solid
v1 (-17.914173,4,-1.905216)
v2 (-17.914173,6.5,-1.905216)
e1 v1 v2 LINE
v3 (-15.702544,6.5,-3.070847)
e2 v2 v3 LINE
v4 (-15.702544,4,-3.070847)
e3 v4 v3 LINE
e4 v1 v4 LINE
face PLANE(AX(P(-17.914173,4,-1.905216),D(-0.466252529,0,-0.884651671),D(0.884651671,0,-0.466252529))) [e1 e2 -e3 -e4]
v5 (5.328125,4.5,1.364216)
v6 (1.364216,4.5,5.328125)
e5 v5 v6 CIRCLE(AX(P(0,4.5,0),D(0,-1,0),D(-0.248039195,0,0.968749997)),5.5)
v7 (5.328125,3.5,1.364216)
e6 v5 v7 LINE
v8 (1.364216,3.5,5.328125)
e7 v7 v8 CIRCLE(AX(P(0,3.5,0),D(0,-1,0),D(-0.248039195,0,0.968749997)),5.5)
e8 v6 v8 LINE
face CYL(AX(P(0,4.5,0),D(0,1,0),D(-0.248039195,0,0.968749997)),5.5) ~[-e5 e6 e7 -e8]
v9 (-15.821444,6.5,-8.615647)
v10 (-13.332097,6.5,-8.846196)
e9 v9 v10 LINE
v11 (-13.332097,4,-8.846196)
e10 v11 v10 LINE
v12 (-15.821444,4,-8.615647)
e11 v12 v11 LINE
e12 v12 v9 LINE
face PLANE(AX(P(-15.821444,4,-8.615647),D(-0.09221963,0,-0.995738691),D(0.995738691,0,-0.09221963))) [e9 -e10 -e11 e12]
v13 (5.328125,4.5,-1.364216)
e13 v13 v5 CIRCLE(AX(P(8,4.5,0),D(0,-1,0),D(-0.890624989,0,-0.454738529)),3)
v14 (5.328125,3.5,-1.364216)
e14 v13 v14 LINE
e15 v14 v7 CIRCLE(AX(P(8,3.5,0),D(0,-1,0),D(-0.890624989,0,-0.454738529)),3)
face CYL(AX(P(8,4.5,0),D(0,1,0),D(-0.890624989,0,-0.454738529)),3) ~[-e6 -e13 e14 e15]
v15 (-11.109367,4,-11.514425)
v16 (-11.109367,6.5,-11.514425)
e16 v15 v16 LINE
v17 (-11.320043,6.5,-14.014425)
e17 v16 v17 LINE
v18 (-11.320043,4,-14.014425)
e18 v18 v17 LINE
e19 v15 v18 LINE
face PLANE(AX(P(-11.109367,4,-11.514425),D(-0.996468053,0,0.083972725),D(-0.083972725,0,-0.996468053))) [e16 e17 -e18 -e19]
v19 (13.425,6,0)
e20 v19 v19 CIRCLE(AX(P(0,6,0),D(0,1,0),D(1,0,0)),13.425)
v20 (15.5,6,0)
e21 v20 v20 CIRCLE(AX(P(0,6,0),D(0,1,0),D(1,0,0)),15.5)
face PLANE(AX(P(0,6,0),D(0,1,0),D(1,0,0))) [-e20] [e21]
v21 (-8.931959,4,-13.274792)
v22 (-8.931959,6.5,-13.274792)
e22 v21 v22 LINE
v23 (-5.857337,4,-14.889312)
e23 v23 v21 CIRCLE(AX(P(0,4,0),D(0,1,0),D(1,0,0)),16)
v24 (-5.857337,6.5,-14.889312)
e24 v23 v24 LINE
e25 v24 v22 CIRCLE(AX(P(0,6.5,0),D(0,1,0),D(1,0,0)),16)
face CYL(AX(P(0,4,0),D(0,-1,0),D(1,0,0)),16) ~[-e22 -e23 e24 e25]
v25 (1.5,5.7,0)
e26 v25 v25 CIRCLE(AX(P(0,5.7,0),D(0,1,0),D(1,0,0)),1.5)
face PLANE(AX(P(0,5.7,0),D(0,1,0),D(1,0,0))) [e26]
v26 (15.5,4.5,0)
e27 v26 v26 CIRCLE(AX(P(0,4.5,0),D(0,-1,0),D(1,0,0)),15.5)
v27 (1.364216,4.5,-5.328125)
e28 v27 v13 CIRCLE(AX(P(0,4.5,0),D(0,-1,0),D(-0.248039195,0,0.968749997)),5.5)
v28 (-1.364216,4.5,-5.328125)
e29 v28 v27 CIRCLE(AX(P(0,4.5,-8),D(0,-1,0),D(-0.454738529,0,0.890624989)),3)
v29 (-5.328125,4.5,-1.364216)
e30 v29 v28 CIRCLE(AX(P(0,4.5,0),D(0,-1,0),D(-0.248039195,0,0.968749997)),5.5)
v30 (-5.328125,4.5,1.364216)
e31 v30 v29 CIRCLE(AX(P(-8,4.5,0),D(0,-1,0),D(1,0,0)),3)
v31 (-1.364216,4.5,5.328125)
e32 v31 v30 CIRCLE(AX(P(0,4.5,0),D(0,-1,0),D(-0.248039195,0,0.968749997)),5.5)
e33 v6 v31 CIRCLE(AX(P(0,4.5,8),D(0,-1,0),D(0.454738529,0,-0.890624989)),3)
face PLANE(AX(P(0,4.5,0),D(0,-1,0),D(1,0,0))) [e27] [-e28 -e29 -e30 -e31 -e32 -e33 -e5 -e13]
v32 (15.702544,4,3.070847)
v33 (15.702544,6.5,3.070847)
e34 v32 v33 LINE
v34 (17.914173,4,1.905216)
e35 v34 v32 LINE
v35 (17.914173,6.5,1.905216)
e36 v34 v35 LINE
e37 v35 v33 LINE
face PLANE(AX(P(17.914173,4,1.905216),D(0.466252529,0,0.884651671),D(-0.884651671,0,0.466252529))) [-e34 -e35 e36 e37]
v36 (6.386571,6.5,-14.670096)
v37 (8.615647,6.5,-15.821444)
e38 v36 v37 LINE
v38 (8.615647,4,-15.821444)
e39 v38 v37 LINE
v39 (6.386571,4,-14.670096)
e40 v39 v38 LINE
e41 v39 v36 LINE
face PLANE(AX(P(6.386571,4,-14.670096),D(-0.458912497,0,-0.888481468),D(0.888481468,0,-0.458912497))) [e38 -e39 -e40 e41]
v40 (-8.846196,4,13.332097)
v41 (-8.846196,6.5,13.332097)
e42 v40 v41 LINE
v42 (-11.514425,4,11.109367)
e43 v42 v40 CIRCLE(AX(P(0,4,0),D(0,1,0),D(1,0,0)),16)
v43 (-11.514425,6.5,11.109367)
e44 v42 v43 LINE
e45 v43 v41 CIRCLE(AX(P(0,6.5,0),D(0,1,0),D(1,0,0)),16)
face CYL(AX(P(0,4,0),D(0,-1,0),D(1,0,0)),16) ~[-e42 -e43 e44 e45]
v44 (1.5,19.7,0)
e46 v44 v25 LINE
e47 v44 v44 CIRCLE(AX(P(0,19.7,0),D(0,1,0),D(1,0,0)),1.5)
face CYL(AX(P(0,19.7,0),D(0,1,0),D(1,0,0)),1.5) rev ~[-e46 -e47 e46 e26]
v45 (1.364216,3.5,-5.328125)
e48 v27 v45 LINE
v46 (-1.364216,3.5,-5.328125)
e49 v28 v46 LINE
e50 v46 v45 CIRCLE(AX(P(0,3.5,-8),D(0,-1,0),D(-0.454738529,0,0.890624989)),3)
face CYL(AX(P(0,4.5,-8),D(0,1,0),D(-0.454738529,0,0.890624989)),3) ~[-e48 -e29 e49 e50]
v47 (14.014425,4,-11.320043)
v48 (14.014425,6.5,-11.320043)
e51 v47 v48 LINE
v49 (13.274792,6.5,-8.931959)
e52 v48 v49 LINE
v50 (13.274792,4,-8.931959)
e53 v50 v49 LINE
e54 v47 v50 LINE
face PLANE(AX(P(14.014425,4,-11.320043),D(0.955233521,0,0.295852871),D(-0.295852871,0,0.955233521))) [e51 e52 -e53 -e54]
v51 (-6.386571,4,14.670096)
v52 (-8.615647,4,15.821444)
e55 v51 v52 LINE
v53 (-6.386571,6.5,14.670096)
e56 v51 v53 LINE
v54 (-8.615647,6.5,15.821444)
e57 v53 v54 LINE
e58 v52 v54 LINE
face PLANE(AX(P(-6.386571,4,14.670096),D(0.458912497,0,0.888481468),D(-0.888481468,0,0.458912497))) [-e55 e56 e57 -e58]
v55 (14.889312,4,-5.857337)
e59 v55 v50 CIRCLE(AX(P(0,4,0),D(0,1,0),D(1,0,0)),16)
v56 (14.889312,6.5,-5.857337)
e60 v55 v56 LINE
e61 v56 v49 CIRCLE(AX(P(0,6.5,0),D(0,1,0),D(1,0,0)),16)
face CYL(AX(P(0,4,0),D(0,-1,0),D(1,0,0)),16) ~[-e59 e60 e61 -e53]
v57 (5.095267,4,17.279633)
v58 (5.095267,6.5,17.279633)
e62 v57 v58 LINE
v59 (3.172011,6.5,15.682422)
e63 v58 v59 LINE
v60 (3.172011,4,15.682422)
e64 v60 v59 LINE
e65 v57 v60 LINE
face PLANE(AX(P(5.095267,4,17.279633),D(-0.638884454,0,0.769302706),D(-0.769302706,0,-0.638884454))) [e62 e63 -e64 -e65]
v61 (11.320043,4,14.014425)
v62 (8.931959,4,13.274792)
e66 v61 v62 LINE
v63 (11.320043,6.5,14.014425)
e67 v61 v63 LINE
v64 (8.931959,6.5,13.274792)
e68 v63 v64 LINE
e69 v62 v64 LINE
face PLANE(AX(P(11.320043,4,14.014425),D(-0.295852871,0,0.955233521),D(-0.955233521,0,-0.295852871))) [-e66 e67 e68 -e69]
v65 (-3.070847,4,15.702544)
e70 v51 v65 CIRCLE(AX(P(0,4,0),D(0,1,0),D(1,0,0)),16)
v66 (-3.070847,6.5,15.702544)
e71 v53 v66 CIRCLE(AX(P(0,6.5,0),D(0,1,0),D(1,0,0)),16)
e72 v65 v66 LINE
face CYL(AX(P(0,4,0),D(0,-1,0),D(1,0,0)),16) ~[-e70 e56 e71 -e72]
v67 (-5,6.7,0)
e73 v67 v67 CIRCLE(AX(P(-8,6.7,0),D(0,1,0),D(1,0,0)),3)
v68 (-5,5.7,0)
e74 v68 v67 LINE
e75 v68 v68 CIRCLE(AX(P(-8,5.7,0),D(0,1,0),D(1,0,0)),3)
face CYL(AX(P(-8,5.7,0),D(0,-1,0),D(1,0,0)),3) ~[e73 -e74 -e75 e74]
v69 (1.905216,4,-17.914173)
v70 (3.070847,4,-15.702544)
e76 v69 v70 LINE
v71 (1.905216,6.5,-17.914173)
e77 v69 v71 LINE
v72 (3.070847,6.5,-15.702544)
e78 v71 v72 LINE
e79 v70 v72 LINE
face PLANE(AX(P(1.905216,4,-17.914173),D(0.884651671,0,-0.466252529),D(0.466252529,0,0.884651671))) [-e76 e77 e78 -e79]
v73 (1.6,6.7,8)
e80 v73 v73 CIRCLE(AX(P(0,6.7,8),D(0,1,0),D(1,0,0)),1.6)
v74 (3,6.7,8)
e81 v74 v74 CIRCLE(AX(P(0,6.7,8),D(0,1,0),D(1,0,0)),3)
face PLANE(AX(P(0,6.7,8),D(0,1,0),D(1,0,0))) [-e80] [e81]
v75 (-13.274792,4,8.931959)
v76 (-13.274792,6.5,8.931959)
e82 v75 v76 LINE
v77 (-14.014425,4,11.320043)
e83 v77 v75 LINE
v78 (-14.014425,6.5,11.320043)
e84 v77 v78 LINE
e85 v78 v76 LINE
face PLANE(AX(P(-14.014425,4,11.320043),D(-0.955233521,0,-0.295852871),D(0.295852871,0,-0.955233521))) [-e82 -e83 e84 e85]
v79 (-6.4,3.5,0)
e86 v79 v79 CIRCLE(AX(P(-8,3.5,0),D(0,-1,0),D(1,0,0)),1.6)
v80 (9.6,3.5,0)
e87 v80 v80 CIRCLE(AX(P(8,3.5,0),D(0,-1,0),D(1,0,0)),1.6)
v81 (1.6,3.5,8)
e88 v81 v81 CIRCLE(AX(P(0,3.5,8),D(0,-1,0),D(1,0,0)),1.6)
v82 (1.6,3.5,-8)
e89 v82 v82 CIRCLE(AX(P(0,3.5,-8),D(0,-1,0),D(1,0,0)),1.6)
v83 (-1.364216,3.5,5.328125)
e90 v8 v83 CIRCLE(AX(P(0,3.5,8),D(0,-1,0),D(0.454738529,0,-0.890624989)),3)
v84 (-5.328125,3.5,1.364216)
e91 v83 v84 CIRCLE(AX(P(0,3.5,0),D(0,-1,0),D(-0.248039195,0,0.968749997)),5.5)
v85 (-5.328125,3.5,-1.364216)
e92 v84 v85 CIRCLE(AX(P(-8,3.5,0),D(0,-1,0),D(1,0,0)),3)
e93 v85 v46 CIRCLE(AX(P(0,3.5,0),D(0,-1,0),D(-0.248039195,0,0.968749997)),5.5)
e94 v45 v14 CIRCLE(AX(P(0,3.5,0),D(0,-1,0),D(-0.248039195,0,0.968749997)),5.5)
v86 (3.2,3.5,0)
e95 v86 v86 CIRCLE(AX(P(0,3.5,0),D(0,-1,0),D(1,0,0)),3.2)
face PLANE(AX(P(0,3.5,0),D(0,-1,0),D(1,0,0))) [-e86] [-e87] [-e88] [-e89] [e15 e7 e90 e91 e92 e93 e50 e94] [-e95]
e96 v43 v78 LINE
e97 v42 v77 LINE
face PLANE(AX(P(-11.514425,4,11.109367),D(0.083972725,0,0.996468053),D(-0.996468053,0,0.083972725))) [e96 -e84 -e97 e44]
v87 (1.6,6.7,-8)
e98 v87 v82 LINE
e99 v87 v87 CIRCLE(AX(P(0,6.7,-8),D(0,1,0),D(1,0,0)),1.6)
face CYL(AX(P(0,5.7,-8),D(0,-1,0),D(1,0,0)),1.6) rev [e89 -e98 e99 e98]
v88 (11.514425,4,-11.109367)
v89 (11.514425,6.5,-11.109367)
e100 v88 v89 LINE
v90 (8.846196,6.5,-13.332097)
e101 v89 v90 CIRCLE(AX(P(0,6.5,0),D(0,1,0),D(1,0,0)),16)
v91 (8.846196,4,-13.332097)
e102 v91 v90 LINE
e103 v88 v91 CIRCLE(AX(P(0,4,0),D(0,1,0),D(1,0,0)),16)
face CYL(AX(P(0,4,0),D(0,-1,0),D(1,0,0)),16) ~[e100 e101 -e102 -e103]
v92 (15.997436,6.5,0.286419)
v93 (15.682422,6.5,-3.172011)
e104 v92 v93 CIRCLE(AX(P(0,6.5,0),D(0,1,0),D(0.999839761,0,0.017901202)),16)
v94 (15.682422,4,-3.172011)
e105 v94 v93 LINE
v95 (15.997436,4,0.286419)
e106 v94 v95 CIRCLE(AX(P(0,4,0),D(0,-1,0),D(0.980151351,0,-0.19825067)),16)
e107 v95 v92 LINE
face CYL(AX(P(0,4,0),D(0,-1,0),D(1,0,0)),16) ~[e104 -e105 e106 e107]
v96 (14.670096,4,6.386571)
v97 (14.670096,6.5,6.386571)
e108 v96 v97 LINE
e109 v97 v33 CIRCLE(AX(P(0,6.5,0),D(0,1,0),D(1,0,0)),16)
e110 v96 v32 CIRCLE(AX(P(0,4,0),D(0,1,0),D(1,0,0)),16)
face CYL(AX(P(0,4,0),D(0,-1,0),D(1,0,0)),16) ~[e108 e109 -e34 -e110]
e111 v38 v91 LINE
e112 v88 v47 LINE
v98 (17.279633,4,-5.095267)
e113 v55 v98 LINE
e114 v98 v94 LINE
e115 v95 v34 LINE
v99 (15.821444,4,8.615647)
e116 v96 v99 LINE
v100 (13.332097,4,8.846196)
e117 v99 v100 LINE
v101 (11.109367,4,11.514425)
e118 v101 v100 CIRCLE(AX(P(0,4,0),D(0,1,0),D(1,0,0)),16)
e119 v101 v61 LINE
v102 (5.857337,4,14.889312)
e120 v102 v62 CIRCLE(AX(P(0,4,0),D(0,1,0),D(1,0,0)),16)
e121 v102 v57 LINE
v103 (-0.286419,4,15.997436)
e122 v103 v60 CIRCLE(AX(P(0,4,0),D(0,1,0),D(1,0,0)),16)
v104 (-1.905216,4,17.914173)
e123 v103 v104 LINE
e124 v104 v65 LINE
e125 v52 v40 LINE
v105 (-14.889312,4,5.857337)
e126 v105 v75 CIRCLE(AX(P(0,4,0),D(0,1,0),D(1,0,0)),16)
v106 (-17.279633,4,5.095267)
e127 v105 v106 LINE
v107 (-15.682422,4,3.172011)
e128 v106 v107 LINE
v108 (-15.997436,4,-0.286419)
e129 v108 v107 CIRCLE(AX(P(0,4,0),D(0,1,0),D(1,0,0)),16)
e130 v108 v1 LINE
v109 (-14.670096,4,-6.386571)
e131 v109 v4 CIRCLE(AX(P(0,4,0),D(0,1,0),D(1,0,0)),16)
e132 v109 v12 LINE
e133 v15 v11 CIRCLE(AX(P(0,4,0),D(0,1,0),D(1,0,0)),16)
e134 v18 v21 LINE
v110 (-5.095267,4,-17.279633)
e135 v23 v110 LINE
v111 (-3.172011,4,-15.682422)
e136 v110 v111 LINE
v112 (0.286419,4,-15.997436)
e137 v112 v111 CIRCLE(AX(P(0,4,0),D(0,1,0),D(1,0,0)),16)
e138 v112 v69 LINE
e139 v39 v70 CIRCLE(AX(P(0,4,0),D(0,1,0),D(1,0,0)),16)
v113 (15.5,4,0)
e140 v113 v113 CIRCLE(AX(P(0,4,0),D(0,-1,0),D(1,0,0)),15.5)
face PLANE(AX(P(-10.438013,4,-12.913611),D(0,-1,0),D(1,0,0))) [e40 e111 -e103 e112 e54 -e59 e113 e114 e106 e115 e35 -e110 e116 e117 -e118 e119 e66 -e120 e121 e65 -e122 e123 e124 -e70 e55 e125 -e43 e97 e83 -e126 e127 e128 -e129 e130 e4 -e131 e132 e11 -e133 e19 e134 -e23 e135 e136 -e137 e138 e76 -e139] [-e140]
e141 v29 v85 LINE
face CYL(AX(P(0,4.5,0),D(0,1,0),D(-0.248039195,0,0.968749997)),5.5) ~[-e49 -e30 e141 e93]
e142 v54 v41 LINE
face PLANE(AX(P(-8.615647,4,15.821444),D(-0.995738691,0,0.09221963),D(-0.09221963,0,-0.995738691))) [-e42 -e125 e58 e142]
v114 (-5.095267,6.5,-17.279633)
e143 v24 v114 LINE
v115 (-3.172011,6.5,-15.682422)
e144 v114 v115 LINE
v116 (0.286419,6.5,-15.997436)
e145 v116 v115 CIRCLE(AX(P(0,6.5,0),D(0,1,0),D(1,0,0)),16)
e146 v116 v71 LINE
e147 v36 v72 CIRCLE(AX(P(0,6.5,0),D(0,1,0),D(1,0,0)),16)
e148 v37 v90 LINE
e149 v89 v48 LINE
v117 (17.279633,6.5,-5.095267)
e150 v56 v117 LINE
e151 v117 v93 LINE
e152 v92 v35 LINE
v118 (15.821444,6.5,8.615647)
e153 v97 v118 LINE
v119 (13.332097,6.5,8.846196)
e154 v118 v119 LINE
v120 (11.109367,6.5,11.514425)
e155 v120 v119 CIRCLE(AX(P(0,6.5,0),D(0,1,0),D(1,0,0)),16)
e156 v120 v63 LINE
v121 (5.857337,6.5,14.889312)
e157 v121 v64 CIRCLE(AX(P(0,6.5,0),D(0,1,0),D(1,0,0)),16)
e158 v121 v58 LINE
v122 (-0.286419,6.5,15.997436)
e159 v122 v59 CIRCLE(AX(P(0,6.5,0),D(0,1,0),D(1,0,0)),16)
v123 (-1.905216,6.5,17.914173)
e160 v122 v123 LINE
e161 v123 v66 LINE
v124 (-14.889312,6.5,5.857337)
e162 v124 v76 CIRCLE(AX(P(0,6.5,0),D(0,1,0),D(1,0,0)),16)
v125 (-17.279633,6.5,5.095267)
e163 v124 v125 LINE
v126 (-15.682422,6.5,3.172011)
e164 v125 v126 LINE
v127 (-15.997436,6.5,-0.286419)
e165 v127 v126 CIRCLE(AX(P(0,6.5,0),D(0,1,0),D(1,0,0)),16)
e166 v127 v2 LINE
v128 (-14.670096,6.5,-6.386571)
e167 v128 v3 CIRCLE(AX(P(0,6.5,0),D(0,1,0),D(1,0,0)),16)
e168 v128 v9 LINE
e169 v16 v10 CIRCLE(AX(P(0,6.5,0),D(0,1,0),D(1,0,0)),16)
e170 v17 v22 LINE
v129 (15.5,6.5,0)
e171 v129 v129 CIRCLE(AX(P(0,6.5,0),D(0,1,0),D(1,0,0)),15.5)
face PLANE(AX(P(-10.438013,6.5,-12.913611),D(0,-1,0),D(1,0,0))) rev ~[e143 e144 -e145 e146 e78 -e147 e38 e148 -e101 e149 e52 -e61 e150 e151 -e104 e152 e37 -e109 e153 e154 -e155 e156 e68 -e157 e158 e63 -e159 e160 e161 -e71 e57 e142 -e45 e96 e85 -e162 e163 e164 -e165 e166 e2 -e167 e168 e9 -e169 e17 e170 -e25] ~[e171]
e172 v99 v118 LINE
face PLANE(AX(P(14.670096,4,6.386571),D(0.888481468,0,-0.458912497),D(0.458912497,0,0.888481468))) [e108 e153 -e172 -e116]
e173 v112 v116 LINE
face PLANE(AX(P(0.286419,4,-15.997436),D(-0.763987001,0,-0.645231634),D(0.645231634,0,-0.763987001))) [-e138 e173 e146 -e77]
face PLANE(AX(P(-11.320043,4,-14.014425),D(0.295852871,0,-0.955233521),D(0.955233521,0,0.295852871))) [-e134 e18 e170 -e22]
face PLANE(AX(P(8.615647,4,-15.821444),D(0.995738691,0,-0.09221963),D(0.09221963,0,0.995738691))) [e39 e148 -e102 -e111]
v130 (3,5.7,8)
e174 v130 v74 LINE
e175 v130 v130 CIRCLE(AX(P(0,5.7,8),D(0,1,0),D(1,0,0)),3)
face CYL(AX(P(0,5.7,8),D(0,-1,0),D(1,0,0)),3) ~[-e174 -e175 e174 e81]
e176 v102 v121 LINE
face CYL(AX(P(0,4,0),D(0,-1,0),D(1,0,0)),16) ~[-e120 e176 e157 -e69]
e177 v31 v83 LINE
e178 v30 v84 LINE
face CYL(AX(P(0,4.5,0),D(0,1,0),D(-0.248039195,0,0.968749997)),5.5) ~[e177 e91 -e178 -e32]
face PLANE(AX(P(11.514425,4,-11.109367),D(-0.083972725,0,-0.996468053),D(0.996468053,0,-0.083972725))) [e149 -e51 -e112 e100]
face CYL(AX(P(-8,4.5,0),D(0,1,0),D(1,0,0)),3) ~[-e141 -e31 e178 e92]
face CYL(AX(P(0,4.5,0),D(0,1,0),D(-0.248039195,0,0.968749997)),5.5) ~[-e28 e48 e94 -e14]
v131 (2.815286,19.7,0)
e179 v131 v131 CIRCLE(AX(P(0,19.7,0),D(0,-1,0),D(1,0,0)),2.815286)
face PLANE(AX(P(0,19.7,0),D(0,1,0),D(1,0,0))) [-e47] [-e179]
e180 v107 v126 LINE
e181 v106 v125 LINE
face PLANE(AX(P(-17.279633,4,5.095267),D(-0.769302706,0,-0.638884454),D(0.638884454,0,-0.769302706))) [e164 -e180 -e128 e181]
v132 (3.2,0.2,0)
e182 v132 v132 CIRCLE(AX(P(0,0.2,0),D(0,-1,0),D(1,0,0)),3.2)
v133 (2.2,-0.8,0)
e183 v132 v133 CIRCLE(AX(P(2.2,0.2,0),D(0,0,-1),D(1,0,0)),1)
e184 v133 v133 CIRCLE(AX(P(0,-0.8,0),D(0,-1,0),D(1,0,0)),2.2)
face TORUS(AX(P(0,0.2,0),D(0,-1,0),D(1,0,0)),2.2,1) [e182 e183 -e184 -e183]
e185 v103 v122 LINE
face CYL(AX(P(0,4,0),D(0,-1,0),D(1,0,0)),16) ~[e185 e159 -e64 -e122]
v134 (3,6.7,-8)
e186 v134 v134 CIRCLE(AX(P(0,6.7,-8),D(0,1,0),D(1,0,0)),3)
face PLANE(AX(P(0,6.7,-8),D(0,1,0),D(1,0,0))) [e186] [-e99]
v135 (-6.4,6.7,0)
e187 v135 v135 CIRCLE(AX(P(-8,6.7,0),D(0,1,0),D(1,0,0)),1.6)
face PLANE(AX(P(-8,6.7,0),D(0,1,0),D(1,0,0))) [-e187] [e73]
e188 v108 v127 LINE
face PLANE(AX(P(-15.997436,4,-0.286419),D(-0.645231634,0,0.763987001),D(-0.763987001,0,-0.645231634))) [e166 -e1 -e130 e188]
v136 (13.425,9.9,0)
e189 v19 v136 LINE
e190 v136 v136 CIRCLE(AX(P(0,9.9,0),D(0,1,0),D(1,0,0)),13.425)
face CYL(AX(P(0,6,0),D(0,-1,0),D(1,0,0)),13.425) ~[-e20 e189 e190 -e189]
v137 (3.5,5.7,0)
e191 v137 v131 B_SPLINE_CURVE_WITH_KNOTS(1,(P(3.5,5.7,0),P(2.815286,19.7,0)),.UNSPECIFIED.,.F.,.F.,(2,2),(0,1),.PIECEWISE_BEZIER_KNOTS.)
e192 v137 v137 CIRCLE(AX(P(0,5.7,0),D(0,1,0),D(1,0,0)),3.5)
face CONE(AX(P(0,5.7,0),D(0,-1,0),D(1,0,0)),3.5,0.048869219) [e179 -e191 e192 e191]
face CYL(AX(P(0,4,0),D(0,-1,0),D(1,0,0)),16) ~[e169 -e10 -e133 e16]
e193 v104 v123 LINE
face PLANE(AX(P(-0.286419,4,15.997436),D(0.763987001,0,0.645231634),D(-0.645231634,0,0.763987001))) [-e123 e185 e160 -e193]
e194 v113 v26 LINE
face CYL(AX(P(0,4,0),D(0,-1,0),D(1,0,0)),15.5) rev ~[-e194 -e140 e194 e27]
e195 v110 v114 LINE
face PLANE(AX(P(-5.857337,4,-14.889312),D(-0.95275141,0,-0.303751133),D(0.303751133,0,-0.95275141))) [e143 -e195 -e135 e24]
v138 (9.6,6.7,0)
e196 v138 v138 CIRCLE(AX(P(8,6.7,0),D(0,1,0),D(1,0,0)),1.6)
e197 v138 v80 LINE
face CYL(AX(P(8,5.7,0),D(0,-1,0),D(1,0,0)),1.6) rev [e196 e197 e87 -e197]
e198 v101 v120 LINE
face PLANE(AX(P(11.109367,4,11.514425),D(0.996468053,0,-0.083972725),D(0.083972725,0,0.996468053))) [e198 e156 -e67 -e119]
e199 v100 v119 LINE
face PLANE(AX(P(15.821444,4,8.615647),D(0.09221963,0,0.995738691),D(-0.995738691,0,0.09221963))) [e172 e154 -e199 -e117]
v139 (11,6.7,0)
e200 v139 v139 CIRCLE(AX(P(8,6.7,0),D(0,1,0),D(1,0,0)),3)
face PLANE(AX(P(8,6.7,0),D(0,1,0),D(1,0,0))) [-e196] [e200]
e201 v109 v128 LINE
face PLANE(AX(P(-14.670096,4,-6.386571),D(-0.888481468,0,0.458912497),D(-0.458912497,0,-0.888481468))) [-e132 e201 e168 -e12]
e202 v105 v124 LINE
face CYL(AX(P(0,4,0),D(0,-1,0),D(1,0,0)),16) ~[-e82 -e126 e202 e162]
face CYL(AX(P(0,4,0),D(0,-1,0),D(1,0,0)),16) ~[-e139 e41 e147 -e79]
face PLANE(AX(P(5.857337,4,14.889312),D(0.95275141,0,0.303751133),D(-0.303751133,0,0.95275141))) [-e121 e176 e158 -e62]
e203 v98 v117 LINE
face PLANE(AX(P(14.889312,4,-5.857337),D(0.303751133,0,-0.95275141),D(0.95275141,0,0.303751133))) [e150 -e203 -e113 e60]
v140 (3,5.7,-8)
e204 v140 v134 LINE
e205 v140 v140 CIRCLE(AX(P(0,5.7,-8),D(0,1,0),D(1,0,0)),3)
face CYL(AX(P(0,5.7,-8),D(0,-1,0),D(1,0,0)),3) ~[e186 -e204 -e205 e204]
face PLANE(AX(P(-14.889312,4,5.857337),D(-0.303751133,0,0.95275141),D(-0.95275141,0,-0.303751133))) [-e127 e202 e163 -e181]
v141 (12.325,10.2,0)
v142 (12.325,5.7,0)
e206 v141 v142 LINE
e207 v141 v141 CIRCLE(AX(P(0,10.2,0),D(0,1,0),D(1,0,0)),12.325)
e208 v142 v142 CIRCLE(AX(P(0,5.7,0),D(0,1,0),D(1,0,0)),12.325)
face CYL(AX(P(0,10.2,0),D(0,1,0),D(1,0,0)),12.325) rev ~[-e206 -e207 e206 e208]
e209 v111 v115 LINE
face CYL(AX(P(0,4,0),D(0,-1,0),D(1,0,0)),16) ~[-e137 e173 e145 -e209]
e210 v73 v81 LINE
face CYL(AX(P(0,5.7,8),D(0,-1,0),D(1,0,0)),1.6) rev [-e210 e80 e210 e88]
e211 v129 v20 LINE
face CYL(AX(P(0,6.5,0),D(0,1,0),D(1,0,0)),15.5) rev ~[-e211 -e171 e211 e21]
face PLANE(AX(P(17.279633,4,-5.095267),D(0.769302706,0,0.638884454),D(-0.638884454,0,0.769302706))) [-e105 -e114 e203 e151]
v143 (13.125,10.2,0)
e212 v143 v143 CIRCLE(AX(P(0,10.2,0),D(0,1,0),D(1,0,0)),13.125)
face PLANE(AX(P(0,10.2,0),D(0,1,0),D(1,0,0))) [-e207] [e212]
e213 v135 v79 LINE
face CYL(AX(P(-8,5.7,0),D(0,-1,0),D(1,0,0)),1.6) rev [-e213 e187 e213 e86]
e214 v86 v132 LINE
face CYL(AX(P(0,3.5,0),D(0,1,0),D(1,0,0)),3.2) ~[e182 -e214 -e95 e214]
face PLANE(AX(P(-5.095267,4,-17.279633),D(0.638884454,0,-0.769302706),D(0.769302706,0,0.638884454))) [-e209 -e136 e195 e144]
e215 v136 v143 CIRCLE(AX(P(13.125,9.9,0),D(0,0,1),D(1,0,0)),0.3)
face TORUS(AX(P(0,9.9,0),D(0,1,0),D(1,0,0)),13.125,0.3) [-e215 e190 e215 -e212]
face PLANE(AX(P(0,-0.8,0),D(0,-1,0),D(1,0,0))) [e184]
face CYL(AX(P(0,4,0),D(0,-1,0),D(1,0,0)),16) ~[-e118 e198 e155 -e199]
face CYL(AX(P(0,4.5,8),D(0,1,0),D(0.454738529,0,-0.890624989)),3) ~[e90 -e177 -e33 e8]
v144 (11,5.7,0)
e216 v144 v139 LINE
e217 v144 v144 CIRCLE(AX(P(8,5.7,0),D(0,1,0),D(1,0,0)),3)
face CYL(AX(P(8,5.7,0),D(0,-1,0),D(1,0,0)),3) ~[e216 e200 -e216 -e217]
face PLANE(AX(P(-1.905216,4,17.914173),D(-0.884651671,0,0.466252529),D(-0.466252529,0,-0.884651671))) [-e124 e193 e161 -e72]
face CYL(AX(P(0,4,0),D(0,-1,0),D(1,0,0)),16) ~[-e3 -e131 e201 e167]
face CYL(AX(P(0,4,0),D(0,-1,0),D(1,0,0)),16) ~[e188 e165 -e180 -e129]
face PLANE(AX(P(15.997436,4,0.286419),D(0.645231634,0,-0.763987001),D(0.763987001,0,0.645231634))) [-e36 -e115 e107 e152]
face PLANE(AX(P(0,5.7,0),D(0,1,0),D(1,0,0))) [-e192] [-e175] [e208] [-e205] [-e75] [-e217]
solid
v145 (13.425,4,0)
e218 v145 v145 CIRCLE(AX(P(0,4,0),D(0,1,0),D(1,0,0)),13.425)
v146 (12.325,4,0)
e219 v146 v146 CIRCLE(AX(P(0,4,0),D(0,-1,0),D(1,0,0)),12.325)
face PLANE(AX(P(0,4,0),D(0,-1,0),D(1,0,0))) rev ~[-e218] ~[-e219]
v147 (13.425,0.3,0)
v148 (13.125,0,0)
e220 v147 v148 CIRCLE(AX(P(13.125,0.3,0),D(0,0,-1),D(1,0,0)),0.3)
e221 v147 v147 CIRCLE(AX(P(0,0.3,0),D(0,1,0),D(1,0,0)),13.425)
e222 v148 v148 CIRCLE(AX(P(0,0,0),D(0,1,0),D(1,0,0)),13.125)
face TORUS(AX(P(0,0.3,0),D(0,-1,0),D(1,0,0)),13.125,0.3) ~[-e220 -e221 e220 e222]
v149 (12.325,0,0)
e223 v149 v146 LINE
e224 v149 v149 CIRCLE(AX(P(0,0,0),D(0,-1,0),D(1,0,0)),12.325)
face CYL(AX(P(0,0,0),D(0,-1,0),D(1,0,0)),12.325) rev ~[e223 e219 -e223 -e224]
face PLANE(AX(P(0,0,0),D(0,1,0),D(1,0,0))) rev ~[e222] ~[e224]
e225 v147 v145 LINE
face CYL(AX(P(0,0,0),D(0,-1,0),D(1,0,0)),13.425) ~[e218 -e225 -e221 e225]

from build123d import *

# Parameters (mm, degrees)
SKETCH1_R           = 13.425
BOSS_EXTRUDE1_DEPTH = 4
SKETCH2_R           = 16
BOSS_EXTRUDE2_DEPTH = 2.5
SKETCH4_R           = 12.325
CUT_EXTRUDE1_DEPTH  = 4
SKETCH6_R           = 15.5
CUT_EXTRUDE3_DEPTH  = 0.5
SKETCH5_R           = 15.5
CUT_EXTRUDE4_DEPTH  = 0.5
SKETCH7_R           = 5.500000049
SKETCH7_R_2         = 3
BOSS_EXTRUDE4_DEPTH = 1
SKETCH8_R           = 3.2
BOSS_EXTRUDE5_DEPTH = 4.3
FILLET1_R           = 1
SKETCH10_R          = 13.425
BOSS_EXTRUDE6_DEPTH = 4.2
SKETCH11_R          = 12.325
CUT_EXTRUDE6_DEPTH  = 4.5
SKETCH12_R          = 3.5
BOSS_EXTRUDE7_DEPTH = 14
BOSS_EXTRUDE7_TAPER = 2.8
SKETCH13_R          = 1.5
CUT_EXTRUDE7_DEPTH  = 14
FILLET2_R           = 0.3
FILLET3_R           = 0.3
SKETCH14_R          = 1.6
CUT_EXTRUDE8_DEPTH  = 5
SKETCH15_R          = 3
SKETCH15_R_2        = 1.6
BOSS_EXTRUDE8_DEPTH = 1
BOSS_EXTRUDE9_DEPTH = 2.5


with BuildPart() as part:
    # Sketch1 → Boss-Extrude1 (new body)
    with BuildSketch(Plane(origin=(0, 0, 0), x_dir=(1, 0, 0), z_dir=(0, 1, 0))):
        Circle(SKETCH1_R)
    extrude(amount=BOSS_EXTRUDE1_DEPTH)

    # Sketch2 → Boss-Extrude2 (add)
    with BuildSketch(Plane(origin=(0, 4, 0), x_dir=(1, 0, 0), z_dir=(0, 1, 0))):
        Circle(SKETCH2_R)
    extrude(amount=BOSS_EXTRUDE2_DEPTH)

    # Sketch4 → Cut-Extrude1 (cut)
    with BuildSketch(Plane.XZ):
        Circle(SKETCH4_R)
    extrude(amount=-CUT_EXTRUDE1_DEPTH, mode=Mode.SUBTRACT)

    # Sketch6 → Cut-Extrude3 (cut)
    with BuildSketch(Plane(origin=(0, 6.5, 0), x_dir=(1, 0, 0), z_dir=(0, 1, 0))):
        Circle(SKETCH6_R)
    extrude(amount=-CUT_EXTRUDE3_DEPTH, mode=Mode.SUBTRACT)

    # Sketch5 → Cut-Extrude4 (cut)
    with BuildSketch(Plane.XZ.offset(-4)):
        Circle(SKETCH5_R)
    extrude(amount=-CUT_EXTRUDE4_DEPTH, mode=Mode.SUBTRACT)

    # Sketch7 → Boss-Extrude4 (add)
    with BuildSketch(Plane.XZ.offset(-4.5)):
        Circle(SKETCH7_R)
        with Locations((0, 8)):
            Circle(SKETCH7_R_2)
        with Locations((8, 0)):
            Circle(SKETCH7_R_2)
        with Locations((0, -8)):
            Circle(SKETCH7_R_2)
        with Locations((-8, 0)):
            Circle(SKETCH7_R_2)
    extrude(amount=BOSS_EXTRUDE4_DEPTH)

    # Sketch8 → Boss-Extrude5 (add)
    with BuildSketch(Plane.XZ.offset(-3.5)):
        Circle(SKETCH8_R)
    extrude(amount=BOSS_EXTRUDE5_DEPTH)

    # Fillet1
    fillet1_edges = [part.edges().sort_by_distance(p)[0] for p in [
        (-3.2, -0.8, 0),
    ]]
    fillet(fillet1_edges, radius=FILLET1_R)

    # Sketch10 → Boss-Extrude6 (add)
    with BuildSketch(Plane(origin=(0, 6, 0), x_dir=(1, 0, 0), z_dir=(0, 1, 0))):
        Circle(SKETCH10_R)
    extrude(amount=BOSS_EXTRUDE6_DEPTH)

    # Sketch11 → Cut-Extrude6 (cut)
    with BuildSketch(Plane(origin=(0, 10.2, 0), x_dir=(1, 0, 0), z_dir=(0, 1, 0))):
        Circle(SKETCH11_R)
    extrude(amount=-CUT_EXTRUDE6_DEPTH, mode=Mode.SUBTRACT)

    # Sketch12 → Boss-Extrude7 (add)
    with BuildSketch(Plane(origin=(0, 5.7, 0), x_dir=(1, 0, 0), z_dir=(0, 1, 0))):
        Circle(SKETCH12_R)
    extrude(amount=BOSS_EXTRUDE7_DEPTH, taper=BOSS_EXTRUDE7_TAPER)

    # Sketch13 → Cut-Extrude7 (cut)
    with BuildSketch(Plane(origin=(0, 19.7, 0), x_dir=(1, 0, 0), z_dir=(0, 1, 0))):
        Circle(SKETCH13_R)
    extrude(amount=-CUT_EXTRUDE7_DEPTH, mode=Mode.SUBTRACT)

    # Fillet2
    fillet2_edges = [part.edges().sort_by_distance(p)[0] for p in [
        (-13.425, 0, 0),
    ]]
    fillet(fillet2_edges, radius=FILLET2_R)

    # Fillet3
    fillet3_edges = [part.edges().sort_by_distance(p)[0] for p in [
        (-13.425, 10.2, 0),
    ]]
    fillet(fillet3_edges, radius=FILLET3_R)

    # Sketch14 → Cut-Extrude8 (cut)
    with BuildSketch(Plane.XZ.offset(-3.5)):
        with Locations((0, -8)):
            Circle(SKETCH14_R)
        with Locations((-8, 0)):
            Circle(SKETCH14_R)
        with Locations((0, 8)):
            Circle(SKETCH14_R)
        with Locations((8, 0)):
            Circle(SKETCH14_R)
    extrude(amount=-CUT_EXTRUDE8_DEPTH, mode=Mode.SUBTRACT)

    # Sketch15 → Boss-Extrude8 (add)
    with BuildSketch(Plane(origin=(0, 5.7, 0), x_dir=(1, 0, 0), z_dir=(0, 1, 0))):
        with Locations((8, 0)):
            Circle(SKETCH15_R)
        with Locations((8, 0)):
            Circle(SKETCH15_R_2, mode=Mode.SUBTRACT)
        with Locations((0, -8)):
            Circle(SKETCH15_R)
        with Locations((0, -8)):
            Circle(SKETCH15_R_2, mode=Mode.SUBTRACT)
        with Locations((-8, 0)):
            Circle(SKETCH15_R)
        with Locations((-8, 0)):
            Circle(SKETCH15_R_2, mode=Mode.SUBTRACT)
        with Locations((0, 8)):
            Circle(SKETCH15_R)
        with Locations((0, 8)):
            Circle(SKETCH15_R_2, mode=Mode.SUBTRACT)
    extrude(amount=BOSS_EXTRUDE8_DEPTH)

    # Sketch16 → Boss-Extrude9 (add)
    with BuildSketch(Plane.XZ.offset(-4)):
        Polygon((-11.109366612, -11.514424583), (-11.320042521, -14.014424583), (-8.93195872, -13.274792406), align=None)
        Polygon((-14.670095953, -6.386570655), (-15.821443695, -8.615647306), (-13.332096968, -8.846196382), align=None)
        Polygon((-15.99743617, -0.286419239), (-17.914173487, -1.905215827), (-15.702544309, -3.070847149), align=None)
        Polygon((-14.889311748, 5.85733691), (-17.279632759, 5.09526749), (-15.682421623, 3.172010724), align=None)
        Polygon((-11.514424583, 11.109366612), (-14.014424583, 11.320042521), (-13.274792406, 8.93195872), align=None)
        Polygon((-6.386570655, 14.670095953), (-8.615647306, 15.821443695), (-8.846196382, 13.332096968), align=None)
        Polygon((-0.286419239, 15.99743617), (-1.905215827, 17.914173487), (-3.070847149, 15.702544309), align=None)
        Polygon((5.85733691, 14.889311748), (5.09526749, 17.279632759), (3.172010724, 15.682421623), align=None)
        Polygon((11.109366612, 11.514424583), (11.320042521, 14.014424583), (8.93195872, 13.274792406), align=None)
        Polygon((14.670095953, 6.386570655), (15.821443695, 8.615647306), (13.332096968, 8.846196382), align=None)
        Polygon((15.99743617, 0.286419239), (17.914173487, 1.905215827), (15.702544309, 3.070847149), align=None)
        Polygon((14.889311748, -5.85733691), (17.279632759, -5.09526749), (15.682421623, -3.172010724), align=None)
        Polygon((11.514424583, -11.109366612), (14.014424583, -11.320042521), (13.274792406, -8.93195872), align=None)
        Polygon((6.386570655, -14.670095953), (8.615647306, -15.821443695), (8.846196382, -13.332096968), align=None)
        Polygon((0.286419239, -15.99743617), (1.905215827, -17.914173487), (3.070847149, -15.702544309), align=None)
        Polygon((-5.85733691, -14.889311748), (-5.09526749, -17.279632759), (-3.172010724, -15.682421623), align=None)
    extrude(amount=-BOSS_EXTRUDE9_DEPTH)


solid = part.part
